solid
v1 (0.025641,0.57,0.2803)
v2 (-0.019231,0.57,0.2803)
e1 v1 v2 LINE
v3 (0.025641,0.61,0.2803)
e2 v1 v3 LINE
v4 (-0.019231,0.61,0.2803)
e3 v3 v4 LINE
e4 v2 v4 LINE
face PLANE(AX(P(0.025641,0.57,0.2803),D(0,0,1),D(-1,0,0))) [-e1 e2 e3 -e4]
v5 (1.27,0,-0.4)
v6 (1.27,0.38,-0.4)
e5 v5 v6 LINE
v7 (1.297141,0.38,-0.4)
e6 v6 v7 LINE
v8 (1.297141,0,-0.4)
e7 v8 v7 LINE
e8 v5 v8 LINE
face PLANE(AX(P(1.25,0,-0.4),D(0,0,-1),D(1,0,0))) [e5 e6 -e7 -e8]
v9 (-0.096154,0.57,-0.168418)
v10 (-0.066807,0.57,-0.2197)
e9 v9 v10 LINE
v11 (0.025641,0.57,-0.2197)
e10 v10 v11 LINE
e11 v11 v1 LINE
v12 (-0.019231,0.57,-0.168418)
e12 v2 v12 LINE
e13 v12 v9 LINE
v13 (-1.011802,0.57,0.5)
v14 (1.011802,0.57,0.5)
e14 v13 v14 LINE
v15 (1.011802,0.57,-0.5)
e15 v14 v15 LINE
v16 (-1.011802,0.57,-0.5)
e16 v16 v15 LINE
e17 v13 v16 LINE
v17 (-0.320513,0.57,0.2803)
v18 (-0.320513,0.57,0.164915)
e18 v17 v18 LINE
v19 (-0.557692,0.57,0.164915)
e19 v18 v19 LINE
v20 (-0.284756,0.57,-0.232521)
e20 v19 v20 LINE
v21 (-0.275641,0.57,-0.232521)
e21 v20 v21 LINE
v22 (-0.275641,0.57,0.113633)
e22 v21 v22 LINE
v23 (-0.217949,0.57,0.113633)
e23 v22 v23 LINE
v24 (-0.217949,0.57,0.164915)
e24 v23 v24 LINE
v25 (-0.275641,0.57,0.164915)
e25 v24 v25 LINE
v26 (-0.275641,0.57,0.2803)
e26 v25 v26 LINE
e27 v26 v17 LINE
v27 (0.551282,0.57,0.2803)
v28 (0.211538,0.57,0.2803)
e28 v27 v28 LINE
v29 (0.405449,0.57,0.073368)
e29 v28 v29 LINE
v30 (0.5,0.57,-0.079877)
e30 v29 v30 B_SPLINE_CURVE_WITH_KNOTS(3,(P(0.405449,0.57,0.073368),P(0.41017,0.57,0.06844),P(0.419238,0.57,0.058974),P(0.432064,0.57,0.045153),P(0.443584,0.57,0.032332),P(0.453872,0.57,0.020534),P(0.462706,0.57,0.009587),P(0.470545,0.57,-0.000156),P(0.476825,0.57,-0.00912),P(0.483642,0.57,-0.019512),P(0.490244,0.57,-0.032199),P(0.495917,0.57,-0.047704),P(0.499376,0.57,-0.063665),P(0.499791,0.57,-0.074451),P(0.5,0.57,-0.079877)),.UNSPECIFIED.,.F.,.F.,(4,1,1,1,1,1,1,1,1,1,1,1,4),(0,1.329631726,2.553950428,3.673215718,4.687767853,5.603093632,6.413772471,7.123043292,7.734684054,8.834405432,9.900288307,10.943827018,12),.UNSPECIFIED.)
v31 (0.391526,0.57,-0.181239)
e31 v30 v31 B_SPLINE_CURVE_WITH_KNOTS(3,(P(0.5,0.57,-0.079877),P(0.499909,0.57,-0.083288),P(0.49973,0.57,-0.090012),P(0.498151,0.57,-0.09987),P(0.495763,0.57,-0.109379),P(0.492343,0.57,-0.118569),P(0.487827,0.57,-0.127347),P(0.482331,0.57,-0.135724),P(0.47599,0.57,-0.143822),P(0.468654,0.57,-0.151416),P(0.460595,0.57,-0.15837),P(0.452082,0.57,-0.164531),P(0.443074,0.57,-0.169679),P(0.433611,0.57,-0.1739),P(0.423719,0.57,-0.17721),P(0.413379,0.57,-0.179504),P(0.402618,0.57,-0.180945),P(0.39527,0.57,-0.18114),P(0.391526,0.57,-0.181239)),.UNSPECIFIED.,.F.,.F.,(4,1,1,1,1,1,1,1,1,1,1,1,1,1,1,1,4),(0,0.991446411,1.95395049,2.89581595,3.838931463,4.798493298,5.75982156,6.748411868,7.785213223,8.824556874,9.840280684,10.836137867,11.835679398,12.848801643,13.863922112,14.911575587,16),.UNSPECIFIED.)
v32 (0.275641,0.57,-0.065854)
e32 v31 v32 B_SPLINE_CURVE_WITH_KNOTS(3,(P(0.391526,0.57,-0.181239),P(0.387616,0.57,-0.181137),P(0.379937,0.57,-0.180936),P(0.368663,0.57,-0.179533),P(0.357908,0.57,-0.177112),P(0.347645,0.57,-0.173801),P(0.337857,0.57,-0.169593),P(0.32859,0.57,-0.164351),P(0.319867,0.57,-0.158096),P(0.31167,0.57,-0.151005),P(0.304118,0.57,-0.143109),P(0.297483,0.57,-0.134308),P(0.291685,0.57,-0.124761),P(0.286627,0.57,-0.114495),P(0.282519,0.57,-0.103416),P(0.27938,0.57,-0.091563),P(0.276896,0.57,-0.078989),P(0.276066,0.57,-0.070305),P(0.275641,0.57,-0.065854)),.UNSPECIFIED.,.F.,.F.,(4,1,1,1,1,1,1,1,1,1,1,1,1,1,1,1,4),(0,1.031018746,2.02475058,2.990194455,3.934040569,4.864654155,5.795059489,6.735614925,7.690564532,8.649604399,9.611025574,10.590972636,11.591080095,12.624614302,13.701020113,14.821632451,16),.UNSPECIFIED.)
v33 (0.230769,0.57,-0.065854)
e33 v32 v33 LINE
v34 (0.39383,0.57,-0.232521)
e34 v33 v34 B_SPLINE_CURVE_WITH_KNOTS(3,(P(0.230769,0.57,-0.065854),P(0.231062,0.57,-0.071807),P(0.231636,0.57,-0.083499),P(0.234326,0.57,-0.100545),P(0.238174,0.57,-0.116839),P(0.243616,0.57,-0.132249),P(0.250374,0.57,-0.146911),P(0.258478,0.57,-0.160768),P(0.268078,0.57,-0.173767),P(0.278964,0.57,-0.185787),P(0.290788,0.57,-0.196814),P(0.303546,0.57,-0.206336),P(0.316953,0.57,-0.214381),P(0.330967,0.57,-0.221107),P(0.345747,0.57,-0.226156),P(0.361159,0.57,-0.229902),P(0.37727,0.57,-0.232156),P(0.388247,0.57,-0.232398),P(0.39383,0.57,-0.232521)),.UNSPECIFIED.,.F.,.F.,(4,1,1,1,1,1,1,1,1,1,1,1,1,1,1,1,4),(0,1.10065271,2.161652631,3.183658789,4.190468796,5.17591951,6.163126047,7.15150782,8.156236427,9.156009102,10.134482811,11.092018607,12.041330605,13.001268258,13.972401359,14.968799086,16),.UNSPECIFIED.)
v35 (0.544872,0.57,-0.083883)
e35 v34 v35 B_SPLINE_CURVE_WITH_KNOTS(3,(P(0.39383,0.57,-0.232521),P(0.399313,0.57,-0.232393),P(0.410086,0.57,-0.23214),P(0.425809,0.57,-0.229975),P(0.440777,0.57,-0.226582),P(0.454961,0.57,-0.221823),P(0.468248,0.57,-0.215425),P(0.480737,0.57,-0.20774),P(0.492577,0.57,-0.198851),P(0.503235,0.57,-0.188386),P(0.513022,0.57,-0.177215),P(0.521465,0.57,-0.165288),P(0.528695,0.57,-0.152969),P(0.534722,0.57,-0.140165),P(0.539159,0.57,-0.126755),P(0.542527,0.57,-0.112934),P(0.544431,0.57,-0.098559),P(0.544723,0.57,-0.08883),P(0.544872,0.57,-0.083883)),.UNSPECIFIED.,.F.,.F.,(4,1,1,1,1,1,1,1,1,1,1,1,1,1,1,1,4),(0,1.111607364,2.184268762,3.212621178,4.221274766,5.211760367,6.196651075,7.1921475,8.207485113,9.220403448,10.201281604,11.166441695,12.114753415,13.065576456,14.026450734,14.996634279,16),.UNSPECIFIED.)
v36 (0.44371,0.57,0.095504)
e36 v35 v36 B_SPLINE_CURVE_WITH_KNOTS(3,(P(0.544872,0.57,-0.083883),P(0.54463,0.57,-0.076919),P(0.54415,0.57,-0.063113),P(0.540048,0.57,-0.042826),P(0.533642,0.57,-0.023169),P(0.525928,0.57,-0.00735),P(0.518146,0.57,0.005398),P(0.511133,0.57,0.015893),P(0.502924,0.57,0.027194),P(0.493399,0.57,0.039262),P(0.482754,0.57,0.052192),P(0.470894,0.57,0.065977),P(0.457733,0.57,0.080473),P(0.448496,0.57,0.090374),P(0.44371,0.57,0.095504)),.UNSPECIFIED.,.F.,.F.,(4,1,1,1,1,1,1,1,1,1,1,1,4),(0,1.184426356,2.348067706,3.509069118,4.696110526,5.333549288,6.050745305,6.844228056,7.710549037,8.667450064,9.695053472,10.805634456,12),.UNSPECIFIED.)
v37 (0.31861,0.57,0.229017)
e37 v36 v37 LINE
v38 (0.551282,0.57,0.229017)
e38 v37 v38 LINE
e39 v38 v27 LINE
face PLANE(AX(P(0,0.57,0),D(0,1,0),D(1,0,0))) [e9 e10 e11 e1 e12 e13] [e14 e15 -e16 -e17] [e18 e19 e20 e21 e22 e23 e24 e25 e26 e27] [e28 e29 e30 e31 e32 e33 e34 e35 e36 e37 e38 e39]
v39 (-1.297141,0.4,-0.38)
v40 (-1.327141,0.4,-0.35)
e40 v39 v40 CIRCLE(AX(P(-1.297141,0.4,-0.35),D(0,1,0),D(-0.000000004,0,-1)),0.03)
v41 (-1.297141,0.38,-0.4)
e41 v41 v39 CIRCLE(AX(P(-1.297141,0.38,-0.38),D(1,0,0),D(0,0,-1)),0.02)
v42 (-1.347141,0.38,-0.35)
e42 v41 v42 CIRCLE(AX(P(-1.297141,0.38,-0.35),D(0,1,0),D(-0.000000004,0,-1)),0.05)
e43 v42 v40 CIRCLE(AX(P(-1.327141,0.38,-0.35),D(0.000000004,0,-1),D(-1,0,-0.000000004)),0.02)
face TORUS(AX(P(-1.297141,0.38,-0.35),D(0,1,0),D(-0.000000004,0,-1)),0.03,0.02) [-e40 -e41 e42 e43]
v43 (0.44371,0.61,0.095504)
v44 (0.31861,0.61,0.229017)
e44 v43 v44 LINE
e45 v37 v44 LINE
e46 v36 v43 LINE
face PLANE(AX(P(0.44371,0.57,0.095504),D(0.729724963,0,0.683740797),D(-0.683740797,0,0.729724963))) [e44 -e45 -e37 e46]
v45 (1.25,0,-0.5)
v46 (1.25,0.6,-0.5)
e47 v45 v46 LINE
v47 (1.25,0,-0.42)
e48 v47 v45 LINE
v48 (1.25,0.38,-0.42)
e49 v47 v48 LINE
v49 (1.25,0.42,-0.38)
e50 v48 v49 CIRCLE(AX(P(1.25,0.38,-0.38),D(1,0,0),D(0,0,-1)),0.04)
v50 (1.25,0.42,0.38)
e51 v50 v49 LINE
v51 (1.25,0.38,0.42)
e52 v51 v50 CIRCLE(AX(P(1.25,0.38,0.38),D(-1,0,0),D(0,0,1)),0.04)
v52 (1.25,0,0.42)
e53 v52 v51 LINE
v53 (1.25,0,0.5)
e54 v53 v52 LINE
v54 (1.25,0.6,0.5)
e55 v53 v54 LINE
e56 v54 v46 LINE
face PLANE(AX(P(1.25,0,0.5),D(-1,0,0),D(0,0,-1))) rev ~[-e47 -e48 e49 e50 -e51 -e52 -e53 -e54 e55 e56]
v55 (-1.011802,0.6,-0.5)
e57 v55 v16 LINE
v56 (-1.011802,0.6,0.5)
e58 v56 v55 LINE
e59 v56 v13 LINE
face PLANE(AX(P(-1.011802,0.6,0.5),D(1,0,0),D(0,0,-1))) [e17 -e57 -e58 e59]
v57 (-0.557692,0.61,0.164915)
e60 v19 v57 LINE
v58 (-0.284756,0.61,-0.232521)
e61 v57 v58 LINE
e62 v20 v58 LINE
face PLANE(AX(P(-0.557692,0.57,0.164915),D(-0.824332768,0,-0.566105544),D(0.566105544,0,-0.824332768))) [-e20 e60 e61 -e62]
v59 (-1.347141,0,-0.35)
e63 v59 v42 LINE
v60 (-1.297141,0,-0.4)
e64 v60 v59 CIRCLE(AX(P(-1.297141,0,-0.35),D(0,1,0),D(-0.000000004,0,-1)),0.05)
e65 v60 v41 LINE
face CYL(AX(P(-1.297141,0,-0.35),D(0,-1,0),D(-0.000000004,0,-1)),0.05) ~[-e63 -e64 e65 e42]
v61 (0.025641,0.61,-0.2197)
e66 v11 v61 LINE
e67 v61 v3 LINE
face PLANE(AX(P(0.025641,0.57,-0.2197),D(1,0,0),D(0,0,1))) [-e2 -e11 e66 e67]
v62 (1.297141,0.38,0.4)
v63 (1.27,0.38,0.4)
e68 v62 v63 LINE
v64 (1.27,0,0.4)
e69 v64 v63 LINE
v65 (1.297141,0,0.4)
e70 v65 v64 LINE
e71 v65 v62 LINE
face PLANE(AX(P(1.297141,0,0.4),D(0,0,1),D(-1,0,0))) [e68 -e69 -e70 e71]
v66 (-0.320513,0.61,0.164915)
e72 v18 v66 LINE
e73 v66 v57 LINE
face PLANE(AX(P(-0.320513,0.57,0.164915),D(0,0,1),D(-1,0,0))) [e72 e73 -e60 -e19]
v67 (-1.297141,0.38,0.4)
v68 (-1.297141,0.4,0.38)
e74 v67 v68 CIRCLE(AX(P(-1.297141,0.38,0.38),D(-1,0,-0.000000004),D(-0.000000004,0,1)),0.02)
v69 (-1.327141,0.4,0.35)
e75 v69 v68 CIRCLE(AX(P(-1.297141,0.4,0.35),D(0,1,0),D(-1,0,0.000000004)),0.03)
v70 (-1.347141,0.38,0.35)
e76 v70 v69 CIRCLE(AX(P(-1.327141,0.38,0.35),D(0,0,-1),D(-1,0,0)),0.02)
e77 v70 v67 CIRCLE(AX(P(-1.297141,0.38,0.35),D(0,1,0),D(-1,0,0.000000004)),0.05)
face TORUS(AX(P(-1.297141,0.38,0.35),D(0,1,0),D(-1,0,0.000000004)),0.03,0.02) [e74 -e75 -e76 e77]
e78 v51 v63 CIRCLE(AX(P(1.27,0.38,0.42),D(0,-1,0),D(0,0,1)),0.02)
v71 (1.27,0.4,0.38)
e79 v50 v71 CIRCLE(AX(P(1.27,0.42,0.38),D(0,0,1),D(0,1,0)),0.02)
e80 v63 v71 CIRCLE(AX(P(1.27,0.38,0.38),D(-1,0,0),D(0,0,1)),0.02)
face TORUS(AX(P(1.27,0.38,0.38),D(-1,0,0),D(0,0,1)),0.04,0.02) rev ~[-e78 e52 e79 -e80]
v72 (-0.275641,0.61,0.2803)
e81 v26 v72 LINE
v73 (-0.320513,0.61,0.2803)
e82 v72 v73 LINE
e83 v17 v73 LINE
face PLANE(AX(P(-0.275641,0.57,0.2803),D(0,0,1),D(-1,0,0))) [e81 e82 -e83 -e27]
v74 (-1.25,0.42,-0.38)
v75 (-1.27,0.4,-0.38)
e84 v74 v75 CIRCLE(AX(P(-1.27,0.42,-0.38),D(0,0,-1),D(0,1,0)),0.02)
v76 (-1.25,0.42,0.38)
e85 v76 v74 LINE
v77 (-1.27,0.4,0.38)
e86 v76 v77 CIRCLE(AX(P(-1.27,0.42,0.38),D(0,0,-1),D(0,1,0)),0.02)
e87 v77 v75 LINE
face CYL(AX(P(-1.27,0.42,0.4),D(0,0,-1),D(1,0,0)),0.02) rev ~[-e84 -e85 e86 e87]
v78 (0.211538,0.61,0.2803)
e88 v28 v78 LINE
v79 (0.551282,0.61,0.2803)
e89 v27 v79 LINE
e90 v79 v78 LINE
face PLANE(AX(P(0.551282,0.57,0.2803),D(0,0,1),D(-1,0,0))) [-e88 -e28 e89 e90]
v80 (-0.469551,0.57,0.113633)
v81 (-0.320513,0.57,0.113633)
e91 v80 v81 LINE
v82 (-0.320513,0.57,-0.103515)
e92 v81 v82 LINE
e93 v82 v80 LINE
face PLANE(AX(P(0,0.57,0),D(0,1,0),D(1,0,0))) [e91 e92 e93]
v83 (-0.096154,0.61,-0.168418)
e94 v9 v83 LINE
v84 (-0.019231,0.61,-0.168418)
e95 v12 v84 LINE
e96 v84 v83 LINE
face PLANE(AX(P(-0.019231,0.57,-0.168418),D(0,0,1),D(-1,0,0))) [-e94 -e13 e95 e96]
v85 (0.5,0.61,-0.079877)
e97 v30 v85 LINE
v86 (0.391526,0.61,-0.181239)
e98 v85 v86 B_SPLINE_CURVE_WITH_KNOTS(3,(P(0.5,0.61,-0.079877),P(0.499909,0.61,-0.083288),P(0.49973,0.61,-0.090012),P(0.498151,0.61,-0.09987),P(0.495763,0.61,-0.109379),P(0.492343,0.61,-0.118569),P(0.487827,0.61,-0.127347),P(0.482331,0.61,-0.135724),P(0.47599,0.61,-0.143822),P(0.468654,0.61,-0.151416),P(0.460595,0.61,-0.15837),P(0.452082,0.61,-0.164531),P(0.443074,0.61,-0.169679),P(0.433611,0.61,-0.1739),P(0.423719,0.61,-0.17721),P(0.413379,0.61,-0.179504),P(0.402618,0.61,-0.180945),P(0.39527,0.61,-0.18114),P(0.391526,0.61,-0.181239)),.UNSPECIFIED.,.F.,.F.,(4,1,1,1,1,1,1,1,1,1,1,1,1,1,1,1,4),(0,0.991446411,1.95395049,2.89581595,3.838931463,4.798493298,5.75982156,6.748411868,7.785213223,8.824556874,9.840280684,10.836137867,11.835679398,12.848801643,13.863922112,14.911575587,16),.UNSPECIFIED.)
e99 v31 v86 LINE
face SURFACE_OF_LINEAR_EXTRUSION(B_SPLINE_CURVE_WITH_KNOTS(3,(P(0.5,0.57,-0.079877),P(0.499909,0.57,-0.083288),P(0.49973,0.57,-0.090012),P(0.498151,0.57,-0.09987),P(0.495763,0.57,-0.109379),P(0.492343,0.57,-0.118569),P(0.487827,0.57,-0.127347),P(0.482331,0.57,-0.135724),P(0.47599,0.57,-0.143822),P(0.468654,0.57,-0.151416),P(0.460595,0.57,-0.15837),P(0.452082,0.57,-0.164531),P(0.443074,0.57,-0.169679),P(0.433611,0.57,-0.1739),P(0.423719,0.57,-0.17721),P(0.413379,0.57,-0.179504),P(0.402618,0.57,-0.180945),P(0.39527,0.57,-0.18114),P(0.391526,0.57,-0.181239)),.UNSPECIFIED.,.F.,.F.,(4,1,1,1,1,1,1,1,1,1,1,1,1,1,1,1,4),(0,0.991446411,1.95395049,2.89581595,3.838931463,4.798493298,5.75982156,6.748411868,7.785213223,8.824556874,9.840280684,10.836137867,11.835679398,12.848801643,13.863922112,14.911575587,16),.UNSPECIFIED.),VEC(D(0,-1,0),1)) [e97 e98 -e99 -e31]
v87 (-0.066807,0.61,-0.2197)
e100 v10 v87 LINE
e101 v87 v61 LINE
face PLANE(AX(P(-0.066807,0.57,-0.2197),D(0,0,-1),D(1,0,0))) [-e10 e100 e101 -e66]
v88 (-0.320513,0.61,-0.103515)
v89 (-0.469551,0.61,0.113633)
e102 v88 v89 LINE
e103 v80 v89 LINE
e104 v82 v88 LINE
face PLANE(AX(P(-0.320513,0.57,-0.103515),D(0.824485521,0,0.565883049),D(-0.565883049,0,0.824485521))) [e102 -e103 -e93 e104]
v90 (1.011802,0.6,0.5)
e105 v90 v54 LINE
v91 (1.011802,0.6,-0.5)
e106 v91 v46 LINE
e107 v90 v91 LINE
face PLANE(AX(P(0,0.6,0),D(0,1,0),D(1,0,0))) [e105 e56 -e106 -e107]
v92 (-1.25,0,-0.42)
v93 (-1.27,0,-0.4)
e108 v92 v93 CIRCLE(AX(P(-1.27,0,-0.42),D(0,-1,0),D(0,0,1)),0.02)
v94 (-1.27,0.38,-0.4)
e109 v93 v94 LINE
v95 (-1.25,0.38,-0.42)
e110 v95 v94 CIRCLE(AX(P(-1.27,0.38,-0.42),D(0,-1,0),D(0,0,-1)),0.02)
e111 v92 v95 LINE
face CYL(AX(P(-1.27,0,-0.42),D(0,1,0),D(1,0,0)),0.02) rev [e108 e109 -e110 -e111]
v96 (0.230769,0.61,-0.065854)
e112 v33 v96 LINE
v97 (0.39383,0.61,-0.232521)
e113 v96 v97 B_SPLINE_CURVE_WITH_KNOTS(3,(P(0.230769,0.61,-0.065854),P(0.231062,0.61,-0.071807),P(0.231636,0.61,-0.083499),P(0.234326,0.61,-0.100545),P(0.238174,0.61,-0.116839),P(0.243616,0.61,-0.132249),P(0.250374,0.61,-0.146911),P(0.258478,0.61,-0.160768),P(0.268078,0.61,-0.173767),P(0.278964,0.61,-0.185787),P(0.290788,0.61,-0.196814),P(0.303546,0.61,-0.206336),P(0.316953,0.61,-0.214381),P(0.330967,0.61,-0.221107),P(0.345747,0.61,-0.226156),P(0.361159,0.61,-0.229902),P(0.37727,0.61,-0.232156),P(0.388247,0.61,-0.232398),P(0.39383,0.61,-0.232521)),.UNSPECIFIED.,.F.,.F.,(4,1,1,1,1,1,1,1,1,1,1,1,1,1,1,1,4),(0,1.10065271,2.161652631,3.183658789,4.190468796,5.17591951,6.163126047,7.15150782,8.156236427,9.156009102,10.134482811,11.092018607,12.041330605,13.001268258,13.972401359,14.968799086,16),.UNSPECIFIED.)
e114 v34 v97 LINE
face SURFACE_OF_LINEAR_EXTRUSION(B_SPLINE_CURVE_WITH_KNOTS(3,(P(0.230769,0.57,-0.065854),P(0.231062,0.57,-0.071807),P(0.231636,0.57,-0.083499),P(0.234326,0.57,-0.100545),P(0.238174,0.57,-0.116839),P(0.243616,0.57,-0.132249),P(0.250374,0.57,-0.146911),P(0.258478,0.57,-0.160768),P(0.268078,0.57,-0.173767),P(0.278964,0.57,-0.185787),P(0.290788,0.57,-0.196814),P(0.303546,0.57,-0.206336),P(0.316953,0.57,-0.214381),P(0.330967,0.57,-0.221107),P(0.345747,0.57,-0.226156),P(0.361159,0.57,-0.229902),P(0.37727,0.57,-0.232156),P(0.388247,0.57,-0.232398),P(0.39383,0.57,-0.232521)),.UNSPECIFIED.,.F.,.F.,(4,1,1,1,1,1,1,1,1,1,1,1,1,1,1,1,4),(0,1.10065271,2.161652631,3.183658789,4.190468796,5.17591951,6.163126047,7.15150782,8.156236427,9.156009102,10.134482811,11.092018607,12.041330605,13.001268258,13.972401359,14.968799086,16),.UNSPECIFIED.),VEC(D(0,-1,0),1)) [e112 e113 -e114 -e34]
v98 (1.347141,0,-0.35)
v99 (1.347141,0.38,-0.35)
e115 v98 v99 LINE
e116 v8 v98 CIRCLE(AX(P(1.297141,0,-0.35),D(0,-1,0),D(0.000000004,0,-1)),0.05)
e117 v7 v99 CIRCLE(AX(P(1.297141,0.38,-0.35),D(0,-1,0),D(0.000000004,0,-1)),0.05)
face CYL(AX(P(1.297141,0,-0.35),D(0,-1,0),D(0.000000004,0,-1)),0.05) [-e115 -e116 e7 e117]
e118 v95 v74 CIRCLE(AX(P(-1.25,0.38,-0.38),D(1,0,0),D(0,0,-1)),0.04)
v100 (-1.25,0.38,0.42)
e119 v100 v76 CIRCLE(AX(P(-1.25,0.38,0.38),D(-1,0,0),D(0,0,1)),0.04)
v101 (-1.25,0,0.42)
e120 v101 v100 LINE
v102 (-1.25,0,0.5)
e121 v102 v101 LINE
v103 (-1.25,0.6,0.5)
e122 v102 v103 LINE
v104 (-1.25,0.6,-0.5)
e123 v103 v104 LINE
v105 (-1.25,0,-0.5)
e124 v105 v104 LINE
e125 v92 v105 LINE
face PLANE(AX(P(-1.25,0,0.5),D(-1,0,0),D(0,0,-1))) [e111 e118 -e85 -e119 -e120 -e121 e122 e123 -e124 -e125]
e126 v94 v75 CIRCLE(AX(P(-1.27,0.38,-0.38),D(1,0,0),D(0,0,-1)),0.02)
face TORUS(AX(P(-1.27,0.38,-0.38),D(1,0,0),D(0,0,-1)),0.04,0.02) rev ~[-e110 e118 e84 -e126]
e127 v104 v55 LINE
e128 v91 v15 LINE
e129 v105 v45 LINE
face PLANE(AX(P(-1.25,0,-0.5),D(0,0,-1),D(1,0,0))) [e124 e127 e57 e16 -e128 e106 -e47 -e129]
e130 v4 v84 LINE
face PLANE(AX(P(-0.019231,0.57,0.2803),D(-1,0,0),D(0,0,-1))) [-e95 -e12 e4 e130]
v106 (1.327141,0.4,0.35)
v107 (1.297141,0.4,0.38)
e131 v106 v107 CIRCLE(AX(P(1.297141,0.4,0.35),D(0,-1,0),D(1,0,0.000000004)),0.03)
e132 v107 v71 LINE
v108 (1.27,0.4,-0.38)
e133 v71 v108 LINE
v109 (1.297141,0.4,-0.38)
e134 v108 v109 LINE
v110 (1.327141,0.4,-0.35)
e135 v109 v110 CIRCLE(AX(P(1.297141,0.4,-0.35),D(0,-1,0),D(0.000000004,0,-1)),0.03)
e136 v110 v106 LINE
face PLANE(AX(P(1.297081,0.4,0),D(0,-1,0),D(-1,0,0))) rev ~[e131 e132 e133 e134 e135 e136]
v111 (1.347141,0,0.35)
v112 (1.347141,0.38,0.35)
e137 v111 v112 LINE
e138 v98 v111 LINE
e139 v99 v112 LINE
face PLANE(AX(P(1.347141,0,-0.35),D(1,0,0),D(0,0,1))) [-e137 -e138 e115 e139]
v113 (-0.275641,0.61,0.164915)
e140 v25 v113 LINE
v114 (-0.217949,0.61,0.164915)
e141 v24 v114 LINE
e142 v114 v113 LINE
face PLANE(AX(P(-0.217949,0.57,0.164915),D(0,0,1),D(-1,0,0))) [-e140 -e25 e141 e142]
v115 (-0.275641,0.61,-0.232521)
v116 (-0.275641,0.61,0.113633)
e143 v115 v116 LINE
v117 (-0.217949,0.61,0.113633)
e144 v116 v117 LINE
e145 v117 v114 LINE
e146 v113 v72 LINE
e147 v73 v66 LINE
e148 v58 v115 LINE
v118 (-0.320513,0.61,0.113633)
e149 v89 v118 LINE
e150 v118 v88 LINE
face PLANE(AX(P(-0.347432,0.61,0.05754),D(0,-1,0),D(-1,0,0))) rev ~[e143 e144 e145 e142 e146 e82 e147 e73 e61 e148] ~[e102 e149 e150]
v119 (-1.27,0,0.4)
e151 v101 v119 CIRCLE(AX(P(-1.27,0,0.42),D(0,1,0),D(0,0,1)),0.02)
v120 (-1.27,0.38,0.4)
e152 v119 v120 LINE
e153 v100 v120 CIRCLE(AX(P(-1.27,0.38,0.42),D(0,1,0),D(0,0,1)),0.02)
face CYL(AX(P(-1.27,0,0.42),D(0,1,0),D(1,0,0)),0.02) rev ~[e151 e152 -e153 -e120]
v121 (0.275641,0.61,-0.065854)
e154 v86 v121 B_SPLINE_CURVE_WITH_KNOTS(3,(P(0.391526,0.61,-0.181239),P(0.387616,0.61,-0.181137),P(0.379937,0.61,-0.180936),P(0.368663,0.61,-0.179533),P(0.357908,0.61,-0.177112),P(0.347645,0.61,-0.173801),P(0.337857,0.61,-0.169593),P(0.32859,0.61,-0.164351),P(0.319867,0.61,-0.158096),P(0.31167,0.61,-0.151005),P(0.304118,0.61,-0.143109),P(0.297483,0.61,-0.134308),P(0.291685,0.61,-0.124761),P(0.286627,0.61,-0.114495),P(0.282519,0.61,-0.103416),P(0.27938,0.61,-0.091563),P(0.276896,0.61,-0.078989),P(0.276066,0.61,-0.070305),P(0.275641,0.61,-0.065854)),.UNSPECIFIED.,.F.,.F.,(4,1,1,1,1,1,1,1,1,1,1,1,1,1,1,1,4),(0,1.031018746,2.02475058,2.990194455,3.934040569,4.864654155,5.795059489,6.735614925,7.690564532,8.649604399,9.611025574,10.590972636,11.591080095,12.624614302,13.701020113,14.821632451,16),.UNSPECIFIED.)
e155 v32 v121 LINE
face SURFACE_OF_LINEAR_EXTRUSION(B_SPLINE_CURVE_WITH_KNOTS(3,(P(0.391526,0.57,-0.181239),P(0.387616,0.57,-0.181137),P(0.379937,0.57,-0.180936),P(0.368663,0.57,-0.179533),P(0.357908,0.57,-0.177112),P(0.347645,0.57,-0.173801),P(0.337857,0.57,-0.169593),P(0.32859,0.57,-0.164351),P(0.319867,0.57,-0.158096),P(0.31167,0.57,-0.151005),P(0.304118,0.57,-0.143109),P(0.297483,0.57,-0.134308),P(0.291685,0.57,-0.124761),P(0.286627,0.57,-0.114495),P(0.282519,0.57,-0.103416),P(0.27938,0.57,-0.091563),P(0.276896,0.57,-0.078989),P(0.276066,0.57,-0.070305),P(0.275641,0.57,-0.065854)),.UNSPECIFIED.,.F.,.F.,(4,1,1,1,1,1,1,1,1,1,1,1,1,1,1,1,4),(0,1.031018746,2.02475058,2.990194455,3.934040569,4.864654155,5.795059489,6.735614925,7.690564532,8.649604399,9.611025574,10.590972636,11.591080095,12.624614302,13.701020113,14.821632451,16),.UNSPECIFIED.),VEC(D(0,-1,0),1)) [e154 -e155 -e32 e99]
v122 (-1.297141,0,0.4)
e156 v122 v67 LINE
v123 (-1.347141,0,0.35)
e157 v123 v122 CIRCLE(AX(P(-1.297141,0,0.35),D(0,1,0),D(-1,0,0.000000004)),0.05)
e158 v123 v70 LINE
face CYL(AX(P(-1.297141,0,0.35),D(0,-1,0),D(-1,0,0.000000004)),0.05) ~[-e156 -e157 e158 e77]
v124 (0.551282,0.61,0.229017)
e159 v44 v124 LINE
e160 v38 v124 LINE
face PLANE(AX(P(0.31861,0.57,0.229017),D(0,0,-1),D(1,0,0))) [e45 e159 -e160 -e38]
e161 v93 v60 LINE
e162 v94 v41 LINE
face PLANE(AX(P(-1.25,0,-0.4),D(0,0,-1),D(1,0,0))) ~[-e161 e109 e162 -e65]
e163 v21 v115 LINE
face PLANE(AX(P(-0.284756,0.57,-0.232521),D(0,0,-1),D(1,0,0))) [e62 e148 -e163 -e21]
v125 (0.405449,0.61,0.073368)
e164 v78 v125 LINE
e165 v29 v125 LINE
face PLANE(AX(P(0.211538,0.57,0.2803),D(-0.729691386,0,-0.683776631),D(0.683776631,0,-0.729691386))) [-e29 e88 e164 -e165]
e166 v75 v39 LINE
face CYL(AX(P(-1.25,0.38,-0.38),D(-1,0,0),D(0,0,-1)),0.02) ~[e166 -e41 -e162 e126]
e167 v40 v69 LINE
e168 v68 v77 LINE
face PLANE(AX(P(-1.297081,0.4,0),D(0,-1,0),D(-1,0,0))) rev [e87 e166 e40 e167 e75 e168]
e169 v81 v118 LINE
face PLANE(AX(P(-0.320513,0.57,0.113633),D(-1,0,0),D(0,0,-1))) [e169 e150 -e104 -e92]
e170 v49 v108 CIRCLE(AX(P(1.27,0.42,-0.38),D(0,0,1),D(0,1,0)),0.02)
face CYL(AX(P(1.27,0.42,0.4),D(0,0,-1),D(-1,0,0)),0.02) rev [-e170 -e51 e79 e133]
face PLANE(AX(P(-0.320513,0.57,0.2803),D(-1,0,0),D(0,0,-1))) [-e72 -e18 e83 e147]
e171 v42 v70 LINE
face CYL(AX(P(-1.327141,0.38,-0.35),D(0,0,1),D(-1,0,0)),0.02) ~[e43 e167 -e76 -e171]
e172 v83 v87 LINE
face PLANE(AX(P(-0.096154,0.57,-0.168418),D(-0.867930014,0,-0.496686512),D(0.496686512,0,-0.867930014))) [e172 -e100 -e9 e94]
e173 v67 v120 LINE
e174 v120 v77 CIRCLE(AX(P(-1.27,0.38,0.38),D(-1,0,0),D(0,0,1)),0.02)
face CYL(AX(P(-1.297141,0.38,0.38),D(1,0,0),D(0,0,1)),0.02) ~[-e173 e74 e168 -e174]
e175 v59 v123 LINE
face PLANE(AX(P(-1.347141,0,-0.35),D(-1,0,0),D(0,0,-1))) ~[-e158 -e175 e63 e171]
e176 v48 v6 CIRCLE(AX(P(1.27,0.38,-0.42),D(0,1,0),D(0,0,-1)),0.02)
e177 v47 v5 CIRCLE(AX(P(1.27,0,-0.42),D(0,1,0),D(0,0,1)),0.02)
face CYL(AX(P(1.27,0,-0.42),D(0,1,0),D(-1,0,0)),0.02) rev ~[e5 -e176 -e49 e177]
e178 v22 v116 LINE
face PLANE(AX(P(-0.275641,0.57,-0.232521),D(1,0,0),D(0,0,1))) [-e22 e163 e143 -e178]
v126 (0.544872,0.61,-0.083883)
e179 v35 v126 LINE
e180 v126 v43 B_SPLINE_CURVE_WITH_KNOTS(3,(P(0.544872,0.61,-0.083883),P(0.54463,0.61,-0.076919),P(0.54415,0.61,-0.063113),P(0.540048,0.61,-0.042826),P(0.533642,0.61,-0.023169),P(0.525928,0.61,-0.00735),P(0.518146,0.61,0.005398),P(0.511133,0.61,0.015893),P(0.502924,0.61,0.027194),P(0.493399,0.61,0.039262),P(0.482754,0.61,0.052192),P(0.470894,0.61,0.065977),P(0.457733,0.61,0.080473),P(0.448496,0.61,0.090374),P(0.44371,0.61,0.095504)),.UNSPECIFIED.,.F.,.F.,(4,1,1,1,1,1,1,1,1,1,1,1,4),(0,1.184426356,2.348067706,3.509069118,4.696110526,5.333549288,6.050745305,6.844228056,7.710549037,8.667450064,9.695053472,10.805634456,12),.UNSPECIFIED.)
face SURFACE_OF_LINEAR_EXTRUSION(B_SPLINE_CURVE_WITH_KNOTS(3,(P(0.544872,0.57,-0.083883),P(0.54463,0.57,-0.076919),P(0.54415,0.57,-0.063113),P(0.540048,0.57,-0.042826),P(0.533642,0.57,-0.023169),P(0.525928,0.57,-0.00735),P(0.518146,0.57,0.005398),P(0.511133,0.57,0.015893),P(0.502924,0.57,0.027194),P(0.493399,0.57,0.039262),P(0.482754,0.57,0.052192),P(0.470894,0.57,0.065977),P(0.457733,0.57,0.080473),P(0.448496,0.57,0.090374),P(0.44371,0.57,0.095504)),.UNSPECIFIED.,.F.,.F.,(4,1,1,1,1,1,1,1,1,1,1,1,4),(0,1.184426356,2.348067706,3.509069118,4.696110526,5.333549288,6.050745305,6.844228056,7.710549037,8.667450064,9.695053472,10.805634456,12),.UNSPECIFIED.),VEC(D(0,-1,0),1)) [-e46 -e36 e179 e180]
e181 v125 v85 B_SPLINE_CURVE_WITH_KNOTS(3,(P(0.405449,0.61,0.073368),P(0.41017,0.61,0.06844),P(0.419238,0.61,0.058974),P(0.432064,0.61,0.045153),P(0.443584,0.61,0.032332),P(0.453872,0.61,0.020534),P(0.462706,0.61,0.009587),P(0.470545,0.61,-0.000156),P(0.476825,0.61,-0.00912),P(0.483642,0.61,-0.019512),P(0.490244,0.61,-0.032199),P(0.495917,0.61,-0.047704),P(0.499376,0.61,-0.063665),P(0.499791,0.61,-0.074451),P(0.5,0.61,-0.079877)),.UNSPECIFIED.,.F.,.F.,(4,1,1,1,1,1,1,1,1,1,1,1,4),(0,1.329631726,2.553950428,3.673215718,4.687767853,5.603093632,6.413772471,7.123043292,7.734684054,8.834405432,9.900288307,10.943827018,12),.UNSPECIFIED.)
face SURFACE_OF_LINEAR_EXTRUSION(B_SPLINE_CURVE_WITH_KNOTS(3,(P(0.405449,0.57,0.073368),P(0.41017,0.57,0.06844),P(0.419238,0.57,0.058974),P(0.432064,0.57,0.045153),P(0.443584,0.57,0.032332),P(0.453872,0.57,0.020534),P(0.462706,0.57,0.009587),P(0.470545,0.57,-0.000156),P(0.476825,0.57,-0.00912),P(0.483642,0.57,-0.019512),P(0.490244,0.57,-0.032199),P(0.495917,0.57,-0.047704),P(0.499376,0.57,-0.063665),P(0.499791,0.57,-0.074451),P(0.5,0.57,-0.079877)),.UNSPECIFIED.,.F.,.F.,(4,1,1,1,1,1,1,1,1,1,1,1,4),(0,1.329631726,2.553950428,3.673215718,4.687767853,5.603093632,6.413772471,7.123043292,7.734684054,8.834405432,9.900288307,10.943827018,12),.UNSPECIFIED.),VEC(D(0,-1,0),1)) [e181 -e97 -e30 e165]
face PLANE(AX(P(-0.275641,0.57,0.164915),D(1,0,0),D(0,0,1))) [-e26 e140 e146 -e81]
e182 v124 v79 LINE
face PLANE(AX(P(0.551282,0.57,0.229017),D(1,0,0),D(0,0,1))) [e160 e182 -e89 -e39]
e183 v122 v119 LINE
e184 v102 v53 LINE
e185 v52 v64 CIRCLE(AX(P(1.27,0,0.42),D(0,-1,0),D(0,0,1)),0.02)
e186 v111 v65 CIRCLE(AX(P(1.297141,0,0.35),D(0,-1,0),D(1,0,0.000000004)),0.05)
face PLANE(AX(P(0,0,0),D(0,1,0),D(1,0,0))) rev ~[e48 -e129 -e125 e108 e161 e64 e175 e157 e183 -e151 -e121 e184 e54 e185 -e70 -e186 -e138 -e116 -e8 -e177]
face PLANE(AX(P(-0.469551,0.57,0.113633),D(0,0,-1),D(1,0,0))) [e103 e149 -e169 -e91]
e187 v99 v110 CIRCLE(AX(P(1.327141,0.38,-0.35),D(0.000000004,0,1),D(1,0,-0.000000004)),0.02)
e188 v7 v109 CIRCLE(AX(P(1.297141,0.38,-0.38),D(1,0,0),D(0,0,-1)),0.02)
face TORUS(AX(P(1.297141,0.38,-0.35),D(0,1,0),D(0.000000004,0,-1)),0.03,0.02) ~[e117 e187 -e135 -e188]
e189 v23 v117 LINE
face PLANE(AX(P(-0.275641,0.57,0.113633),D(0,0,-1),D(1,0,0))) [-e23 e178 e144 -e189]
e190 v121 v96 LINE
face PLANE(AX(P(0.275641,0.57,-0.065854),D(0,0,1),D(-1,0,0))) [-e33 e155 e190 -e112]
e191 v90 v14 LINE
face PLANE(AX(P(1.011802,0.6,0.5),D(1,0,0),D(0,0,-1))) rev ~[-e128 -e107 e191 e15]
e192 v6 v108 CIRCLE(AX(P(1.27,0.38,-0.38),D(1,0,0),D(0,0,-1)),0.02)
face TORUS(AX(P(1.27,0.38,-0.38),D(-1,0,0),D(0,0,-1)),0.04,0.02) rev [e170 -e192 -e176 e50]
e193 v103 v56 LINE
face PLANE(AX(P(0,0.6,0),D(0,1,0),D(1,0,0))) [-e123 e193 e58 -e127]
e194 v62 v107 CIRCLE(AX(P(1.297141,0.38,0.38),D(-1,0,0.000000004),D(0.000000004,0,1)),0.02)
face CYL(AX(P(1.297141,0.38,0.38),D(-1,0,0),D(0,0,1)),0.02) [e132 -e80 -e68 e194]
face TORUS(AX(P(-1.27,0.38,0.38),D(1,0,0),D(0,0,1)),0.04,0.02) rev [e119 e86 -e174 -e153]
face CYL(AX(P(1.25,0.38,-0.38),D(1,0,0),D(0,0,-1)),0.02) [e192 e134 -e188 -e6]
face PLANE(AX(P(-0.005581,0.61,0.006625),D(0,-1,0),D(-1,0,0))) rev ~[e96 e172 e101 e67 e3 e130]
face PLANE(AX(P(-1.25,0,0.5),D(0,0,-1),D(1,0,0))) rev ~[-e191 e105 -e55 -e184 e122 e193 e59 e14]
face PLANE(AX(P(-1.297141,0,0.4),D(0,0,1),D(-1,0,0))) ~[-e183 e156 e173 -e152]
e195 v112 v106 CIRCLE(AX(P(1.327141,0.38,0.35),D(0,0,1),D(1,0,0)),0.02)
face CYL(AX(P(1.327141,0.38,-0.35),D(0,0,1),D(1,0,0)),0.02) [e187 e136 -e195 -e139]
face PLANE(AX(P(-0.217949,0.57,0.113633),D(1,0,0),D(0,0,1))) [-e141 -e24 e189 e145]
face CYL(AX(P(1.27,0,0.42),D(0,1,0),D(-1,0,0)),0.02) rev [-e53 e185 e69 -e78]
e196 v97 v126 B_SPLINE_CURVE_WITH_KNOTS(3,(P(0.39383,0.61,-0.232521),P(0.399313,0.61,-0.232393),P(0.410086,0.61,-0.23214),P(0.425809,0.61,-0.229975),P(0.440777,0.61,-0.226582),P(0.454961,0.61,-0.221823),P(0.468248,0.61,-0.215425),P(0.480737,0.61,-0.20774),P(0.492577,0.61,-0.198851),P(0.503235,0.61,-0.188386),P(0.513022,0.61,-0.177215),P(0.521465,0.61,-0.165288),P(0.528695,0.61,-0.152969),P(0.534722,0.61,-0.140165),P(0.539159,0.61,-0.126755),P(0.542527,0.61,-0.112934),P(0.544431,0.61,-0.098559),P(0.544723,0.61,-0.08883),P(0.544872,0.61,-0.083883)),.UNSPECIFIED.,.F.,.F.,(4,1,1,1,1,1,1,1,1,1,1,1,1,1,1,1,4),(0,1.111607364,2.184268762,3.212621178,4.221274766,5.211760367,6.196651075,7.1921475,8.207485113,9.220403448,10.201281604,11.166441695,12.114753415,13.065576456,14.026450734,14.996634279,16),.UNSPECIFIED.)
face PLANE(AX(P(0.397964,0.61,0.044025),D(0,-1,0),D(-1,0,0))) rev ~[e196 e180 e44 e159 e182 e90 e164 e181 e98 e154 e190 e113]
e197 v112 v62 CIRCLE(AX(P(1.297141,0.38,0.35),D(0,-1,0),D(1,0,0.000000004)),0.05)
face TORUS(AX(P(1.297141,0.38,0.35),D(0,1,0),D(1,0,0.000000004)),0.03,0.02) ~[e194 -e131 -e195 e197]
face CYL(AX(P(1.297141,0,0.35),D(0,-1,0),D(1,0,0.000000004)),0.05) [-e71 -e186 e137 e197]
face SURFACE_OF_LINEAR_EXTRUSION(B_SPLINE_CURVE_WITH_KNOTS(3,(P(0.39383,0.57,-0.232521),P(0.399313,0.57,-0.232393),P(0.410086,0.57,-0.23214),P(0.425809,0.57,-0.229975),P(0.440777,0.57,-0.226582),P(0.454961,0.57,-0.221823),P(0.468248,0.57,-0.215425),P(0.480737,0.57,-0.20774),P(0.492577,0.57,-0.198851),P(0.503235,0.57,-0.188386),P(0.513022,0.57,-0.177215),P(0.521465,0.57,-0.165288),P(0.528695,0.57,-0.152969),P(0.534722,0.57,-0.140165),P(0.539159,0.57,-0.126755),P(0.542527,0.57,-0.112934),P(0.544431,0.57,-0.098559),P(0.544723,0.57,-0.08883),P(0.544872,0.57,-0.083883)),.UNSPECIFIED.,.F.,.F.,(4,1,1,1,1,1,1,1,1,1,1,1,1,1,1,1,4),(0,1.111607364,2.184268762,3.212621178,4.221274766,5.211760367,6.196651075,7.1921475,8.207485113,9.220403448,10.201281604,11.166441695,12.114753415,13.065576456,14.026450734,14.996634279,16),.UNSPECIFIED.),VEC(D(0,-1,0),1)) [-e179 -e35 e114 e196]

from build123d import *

# Parameters (mm, degrees)
ESQUISSE1_W             = 2.5
ESQUISSE1_H             = 1
BOSS_EXTRU_1_DEPTH      = 0.6
ESQUISSE2_W             = 2.023603034
ESQUISSE2_H             = 1
ENL_V_MAT_EXTRU_1_DEPTH = 0.03
BOSS_EXTRU_2_DEPTH      = 0.4
CONG_1_R                = 0.02
CONG_1_OF_SYM_TRIE2_R   = 0.02
BOSS_EXTRU_3_DEPTH      = 0.04


with BuildPart() as part:
    # Esquisse1 → Boss.-Extru.1 (new body)
    with BuildSketch(Plane(origin=(0, 0, 0), x_dir=(1, 0, 0), z_dir=(0, 1, 0))):
        Rectangle(ESQUISSE1_W, ESQUISSE1_H)
    extrude(amount=BOSS_EXTRU_1_DEPTH)

    # Esquisse2 → Enlèv. mat.-Extru.1 (cut)
    with BuildSketch(Plane(origin=(0, 0.6, 0), x_dir=(1, 0, 0), z_dir=(0, 1, 0))):
        Rectangle(ESQUISSE2_W, ESQUISSE2_H)
    extrude(amount=-ENL_V_MAT_EXTRU_1_DEPTH, mode=Mode.SUBTRACT)

    # Esquisse3 → Boss.-Extru.2 (add)
    with BuildSketch(Plane(origin=(0, 0, 0), x_dir=(1, 0, 0), z_dir=(0, 1, 0))):
        with BuildLine():
            Line((1.25, 0.4), (1.297141448, 0.4))
            ThreePointArc((1.297141448, 0.4), (1.332496787, 0.385355339), (1.347141448, 0.35))
            Line((1.347141448, 0.35), (1.347141448, -0.35))
            ThreePointArc((1.347141448, -0.35), (1.332496787, -0.385355339), (1.297141448, -0.4))
            Line((1.297141448, -0.4), (1.25, -0.4))
            Line((1.25, -0.4), (1.25, 0.4))
        make_face()
    boss_extru_2 = extrude(amount=BOSS_EXTRU_2_DEPTH)

    # Congé1
    cong_1_edges = [part.edges().sort_by_distance(p)[0] for p in [
        (1.25, 0.2, -0.4),
        (1.25, 0.2, 0.4),
        (1.25, 0.4, 0),
        (1.273570724, 0.4, 0.4),
        (1.332496787, 0.4, 0.385355339),
        (1.347141448, 0.4, 0),
        (1.332496787, 0.4, -0.385355339),
        (1.273570724, 0.4, -0.4),
    ]]
    fillet(cong_1_edges, radius=CONG_1_R)

    # Symétrie2: Boss.-Extru.2 across plane
    add(boss_extru_2.mirror(Plane(origin=(0, 0, 0), x_dir=(0, 0, 1), z_dir=(1, 0, 0))))

    # Congé1 of Symétrie2
    cong_1_of_sym_trie2_edges = [part.edges().sort_by_distance(p)[0] for p in [
        (-1.25, 0.2, -0.4),
        (-1.25, 0.2, 0.4),
        (-1.25, 0.4, 0),
        (-1.273570724, 0.4, 0.4),
        (-1.332496787, 0.4, 0.385355339),
        (-1.347141448, 0.4, 0),
        (-1.332496787, 0.4, -0.385355339),
        (-1.273570724, 0.4, -0.4),
    ]]
    fillet(cong_1_of_sym_trie2_edges, radius=CONG_1_OF_SYM_TRIE2_R)

    # Esquisse4 → Boss.-Extru.3 (add)
    # profile 1 of 3: a face of its own
    with BuildSketch(Plane(origin=(0, 0.57, 0), x_dir=(1, 0, 0), z_dir=(0, 1, 0))):
        with BuildLine():
            Line((0.275641026, 0.065854324), (0.230769231, 0.065854324))
            add(Edge.make_bspline(
                [(0.230769231, 0.065854324), (0.231061681, 0.071807307), (0.231636046, 0.08349881), (0.234325802, 0.100545082), (0.238174498, 0.116838625), (0.243616135, 0.132248612), (0.250374174, 0.146911299), (0.258478464, 0.160768444), (0.268077586, 0.173767185), (0.278964262, 0.18578702), (0.290788353, 0.196813816), (0.303546344, 0.206335994), (0.316952777, 0.214381375), (0.330966977, 0.221107267), (0.345747057, 0.226155816), (0.361158894, 0.229901765), (0.377270199, 0.232155528), (0.388247345, 0.232397784), (0.393830128, 0.23252099)],
                knots=[0, 0, 0, 0, 1.10065271, 2.161652631, 3.183658789, 4.190468796, 5.17591951, 6.163126047, 7.15150782, 8.156236427, 9.156009102, 10.134482811, 11.092018607, 12.041330605, 13.001268258, 13.972401359, 14.968799086, 16, 16, 16, 16], degree=3))
            add(Edge.make_bspline(
                [(0.393830128, 0.23252099), (0.39931271, 0.232392639), (0.410085788, 0.232140434), (0.425808933, 0.229974573), (0.440777118, 0.226582346), (0.454961085, 0.221823), (0.468247665, 0.215425225), (0.480736672, 0.207739862), (0.492576787, 0.198851315), (0.503234899, 0.188386485), (0.513021768, 0.177214715), (0.521464947, 0.165287872), (0.528695399, 0.152969403), (0.53472221, 0.140165374), (0.539158802, 0.126755227), (0.542527117, 0.112934198), (0.544431033, 0.098559225), (0.544723237, 0.088829717), (0.544871795, 0.08388317)],
                knots=[0, 0, 0, 0, 1.111607364, 2.184268762, 3.212621178, 4.221274766, 5.211760367, 6.196651075, 7.1921475, 8.207485113, 9.220403448, 10.201281604, 11.166441695, 12.114753415, 13.065576456, 14.026450734, 14.996634279, 16, 16, 16, 16], degree=3))
            add(Edge.make_bspline(
                [(0.544871795, 0.08388317), (0.5446299, 0.076919193), (0.544150356, 0.063113449), (0.540048302, 0.042825611), (0.533641657, 0.023169408), (0.525927749, 0.007349794), (0.518145972, -0.005397848), (0.511133471, -0.015893378), (0.502924212, -0.027194159), (0.493398712, -0.03926235), (0.482754016, -0.052192479), (0.470893707, -0.065976736), (0.45773321, -0.080472703), (0.448496281, -0.090373503), (0.443709936, -0.09550385)],
                knots=[0, 0, 0, 0, 1.184426356, 2.348067706, 3.509069118, 4.696110526, 5.333549288, 6.050745305, 6.844228056, 7.710549037, 8.667450064, 9.695053472, 10.805634456, 12, 12, 12, 12], degree=3))
            Line((0.443709936, -0.09550385), (0.318609776, -0.229017471))
            Line((0.318609776, -0.229017471), (0.551282051, -0.229017471))
            Line((0.551282051, -0.229017471), (0.551282051, -0.280299523))
            Line((0.551282051, -0.280299523), (0.211538462, -0.280299523))
            Line((0.211538462, -0.280299523), (0.405448718, -0.073368433))
            add(Edge.make_bspline(
                [(0.405448718, -0.073368433), (0.410169845, -0.068440103), (0.419238163, -0.058973791), (0.432064245, -0.045153368), (0.443584101, -0.032332005), (0.4538723, -0.020533927), (0.462705658, -0.00958656), (0.470544548, 0.000155541), (0.476825347, 0.009120462), (0.483641832, 0.019511978), (0.490243829, 0.032199452), (0.495917023, 0.047704265), (0.499376287, 0.063665301), (0.499791263, 0.074451306), (0.5, 0.079876759)],
                knots=[0, 0, 0, 0, 1.329631726, 2.553950428, 3.673215718, 4.687767853, 5.603093632, 6.413772471, 7.123043292, 7.734684054, 8.834405432, 9.900288307, 10.943827018, 12, 12, 12, 12], degree=3))
            add(Edge.make_bspline(
                [(0.5, 0.079876759), (0.49990918, 0.083288388), (0.49973019, 0.090012052), (0.498150519, 0.099870018), (0.495763304, 0.109379277), (0.492342553, 0.11856908), (0.487827304, 0.12734703), (0.482331107, 0.135723813), (0.47598967, 0.143822236), (0.468653774, 0.151415565), (0.460594985, 0.158370023), (0.452081521, 0.164530606), (0.443074363, 0.169679051), (0.433611489, 0.17389955), (0.423719279, 0.177210319), (0.413378601, 0.179504402), (0.402618027, 0.180944757), (0.395270385, 0.181139638), (0.391526442, 0.181238939)],
                knots=[0, 0, 0, 0, 0.991446411, 1.95395049, 2.89581595, 3.838931463, 4.798493298, 5.75982156, 6.748411868, 7.785213223, 8.824556874, 9.840280684, 10.836137867, 11.835679398, 12.848801643, 13.863922112, 14.911575587, 16, 16, 16, 16], degree=3))
            add(Edge.make_bspline(
                [(0.391526442, 0.181238939), (0.387616323, 0.181136791), (0.379937495, 0.180936191), (0.368663348, 0.179532953), (0.357908237, 0.177112119), (0.347645108, 0.173801165), (0.337856595, 0.169592801), (0.328590303, 0.164351123), (0.319867034, 0.158096338), (0.311670387, 0.15100483), (0.30411839, 0.143109459), (0.297483122, 0.134308036), (0.291685406, 0.124761262), (0.286626944, 0.114494898), (0.282518988, 0.103415786), (0.279379967, 0.091563257), (0.276896132, 0.078988774), (0.276066343, 0.07030519), (0.275641026, 0.065854324)],
                knots=[0, 0, 0, 0, 1.031018746, 2.02475058, 2.990194455, 3.934040569, 4.864654155, 5.795059489, 6.735614925, 7.690564532, 8.649604399, 9.611025574, 10.590972636, 11.591080095, 12.624614302, 13.701020113, 14.821632451, 16, 16, 16, 16], degree=3))
        make_face()
    # profile 2 of 3: a face of its own
    with BuildSketch(Plane(origin=(0, 0.57, 0), x_dir=(1, 0, 0), z_dir=(0, 1, 0))):
        Polygon((-0.066806891, 0.219700477), (0.025641026, 0.219700477), (0.025641026, -0.280299523), (-0.019230769, -0.280299523), (-0.019230769, 0.168418426), (-0.096153846, 0.168418426), align=None)
    # profile 3 of 3: a face of its own
    with BuildSketch(Plane(origin=(0, 0.57, 0), x_dir=(1, 0, 0), z_dir=(0, 1, 0))):
        Polygon((-0.284755609, 0.23252099), (-0.275641026, 0.23252099), (-0.275641026, -0.113632856), (-0.217948718, -0.113632856), (-0.217948718, -0.164914907), (-0.275641026, -0.164914907), (-0.275641026, -0.280299523), (-0.320512821, -0.280299523), (-0.320512821, -0.164914907), (-0.557692308, -0.164914907), align=None)
        Polygon((-0.320512821, -0.113632856), (-0.320512821, 0.10351458), (-0.469551282, -0.113632856), align=None, mode=Mode.SUBTRACT)
    extrude(amount=BOSS_EXTRU_3_DEPTH)


solid = part.part
